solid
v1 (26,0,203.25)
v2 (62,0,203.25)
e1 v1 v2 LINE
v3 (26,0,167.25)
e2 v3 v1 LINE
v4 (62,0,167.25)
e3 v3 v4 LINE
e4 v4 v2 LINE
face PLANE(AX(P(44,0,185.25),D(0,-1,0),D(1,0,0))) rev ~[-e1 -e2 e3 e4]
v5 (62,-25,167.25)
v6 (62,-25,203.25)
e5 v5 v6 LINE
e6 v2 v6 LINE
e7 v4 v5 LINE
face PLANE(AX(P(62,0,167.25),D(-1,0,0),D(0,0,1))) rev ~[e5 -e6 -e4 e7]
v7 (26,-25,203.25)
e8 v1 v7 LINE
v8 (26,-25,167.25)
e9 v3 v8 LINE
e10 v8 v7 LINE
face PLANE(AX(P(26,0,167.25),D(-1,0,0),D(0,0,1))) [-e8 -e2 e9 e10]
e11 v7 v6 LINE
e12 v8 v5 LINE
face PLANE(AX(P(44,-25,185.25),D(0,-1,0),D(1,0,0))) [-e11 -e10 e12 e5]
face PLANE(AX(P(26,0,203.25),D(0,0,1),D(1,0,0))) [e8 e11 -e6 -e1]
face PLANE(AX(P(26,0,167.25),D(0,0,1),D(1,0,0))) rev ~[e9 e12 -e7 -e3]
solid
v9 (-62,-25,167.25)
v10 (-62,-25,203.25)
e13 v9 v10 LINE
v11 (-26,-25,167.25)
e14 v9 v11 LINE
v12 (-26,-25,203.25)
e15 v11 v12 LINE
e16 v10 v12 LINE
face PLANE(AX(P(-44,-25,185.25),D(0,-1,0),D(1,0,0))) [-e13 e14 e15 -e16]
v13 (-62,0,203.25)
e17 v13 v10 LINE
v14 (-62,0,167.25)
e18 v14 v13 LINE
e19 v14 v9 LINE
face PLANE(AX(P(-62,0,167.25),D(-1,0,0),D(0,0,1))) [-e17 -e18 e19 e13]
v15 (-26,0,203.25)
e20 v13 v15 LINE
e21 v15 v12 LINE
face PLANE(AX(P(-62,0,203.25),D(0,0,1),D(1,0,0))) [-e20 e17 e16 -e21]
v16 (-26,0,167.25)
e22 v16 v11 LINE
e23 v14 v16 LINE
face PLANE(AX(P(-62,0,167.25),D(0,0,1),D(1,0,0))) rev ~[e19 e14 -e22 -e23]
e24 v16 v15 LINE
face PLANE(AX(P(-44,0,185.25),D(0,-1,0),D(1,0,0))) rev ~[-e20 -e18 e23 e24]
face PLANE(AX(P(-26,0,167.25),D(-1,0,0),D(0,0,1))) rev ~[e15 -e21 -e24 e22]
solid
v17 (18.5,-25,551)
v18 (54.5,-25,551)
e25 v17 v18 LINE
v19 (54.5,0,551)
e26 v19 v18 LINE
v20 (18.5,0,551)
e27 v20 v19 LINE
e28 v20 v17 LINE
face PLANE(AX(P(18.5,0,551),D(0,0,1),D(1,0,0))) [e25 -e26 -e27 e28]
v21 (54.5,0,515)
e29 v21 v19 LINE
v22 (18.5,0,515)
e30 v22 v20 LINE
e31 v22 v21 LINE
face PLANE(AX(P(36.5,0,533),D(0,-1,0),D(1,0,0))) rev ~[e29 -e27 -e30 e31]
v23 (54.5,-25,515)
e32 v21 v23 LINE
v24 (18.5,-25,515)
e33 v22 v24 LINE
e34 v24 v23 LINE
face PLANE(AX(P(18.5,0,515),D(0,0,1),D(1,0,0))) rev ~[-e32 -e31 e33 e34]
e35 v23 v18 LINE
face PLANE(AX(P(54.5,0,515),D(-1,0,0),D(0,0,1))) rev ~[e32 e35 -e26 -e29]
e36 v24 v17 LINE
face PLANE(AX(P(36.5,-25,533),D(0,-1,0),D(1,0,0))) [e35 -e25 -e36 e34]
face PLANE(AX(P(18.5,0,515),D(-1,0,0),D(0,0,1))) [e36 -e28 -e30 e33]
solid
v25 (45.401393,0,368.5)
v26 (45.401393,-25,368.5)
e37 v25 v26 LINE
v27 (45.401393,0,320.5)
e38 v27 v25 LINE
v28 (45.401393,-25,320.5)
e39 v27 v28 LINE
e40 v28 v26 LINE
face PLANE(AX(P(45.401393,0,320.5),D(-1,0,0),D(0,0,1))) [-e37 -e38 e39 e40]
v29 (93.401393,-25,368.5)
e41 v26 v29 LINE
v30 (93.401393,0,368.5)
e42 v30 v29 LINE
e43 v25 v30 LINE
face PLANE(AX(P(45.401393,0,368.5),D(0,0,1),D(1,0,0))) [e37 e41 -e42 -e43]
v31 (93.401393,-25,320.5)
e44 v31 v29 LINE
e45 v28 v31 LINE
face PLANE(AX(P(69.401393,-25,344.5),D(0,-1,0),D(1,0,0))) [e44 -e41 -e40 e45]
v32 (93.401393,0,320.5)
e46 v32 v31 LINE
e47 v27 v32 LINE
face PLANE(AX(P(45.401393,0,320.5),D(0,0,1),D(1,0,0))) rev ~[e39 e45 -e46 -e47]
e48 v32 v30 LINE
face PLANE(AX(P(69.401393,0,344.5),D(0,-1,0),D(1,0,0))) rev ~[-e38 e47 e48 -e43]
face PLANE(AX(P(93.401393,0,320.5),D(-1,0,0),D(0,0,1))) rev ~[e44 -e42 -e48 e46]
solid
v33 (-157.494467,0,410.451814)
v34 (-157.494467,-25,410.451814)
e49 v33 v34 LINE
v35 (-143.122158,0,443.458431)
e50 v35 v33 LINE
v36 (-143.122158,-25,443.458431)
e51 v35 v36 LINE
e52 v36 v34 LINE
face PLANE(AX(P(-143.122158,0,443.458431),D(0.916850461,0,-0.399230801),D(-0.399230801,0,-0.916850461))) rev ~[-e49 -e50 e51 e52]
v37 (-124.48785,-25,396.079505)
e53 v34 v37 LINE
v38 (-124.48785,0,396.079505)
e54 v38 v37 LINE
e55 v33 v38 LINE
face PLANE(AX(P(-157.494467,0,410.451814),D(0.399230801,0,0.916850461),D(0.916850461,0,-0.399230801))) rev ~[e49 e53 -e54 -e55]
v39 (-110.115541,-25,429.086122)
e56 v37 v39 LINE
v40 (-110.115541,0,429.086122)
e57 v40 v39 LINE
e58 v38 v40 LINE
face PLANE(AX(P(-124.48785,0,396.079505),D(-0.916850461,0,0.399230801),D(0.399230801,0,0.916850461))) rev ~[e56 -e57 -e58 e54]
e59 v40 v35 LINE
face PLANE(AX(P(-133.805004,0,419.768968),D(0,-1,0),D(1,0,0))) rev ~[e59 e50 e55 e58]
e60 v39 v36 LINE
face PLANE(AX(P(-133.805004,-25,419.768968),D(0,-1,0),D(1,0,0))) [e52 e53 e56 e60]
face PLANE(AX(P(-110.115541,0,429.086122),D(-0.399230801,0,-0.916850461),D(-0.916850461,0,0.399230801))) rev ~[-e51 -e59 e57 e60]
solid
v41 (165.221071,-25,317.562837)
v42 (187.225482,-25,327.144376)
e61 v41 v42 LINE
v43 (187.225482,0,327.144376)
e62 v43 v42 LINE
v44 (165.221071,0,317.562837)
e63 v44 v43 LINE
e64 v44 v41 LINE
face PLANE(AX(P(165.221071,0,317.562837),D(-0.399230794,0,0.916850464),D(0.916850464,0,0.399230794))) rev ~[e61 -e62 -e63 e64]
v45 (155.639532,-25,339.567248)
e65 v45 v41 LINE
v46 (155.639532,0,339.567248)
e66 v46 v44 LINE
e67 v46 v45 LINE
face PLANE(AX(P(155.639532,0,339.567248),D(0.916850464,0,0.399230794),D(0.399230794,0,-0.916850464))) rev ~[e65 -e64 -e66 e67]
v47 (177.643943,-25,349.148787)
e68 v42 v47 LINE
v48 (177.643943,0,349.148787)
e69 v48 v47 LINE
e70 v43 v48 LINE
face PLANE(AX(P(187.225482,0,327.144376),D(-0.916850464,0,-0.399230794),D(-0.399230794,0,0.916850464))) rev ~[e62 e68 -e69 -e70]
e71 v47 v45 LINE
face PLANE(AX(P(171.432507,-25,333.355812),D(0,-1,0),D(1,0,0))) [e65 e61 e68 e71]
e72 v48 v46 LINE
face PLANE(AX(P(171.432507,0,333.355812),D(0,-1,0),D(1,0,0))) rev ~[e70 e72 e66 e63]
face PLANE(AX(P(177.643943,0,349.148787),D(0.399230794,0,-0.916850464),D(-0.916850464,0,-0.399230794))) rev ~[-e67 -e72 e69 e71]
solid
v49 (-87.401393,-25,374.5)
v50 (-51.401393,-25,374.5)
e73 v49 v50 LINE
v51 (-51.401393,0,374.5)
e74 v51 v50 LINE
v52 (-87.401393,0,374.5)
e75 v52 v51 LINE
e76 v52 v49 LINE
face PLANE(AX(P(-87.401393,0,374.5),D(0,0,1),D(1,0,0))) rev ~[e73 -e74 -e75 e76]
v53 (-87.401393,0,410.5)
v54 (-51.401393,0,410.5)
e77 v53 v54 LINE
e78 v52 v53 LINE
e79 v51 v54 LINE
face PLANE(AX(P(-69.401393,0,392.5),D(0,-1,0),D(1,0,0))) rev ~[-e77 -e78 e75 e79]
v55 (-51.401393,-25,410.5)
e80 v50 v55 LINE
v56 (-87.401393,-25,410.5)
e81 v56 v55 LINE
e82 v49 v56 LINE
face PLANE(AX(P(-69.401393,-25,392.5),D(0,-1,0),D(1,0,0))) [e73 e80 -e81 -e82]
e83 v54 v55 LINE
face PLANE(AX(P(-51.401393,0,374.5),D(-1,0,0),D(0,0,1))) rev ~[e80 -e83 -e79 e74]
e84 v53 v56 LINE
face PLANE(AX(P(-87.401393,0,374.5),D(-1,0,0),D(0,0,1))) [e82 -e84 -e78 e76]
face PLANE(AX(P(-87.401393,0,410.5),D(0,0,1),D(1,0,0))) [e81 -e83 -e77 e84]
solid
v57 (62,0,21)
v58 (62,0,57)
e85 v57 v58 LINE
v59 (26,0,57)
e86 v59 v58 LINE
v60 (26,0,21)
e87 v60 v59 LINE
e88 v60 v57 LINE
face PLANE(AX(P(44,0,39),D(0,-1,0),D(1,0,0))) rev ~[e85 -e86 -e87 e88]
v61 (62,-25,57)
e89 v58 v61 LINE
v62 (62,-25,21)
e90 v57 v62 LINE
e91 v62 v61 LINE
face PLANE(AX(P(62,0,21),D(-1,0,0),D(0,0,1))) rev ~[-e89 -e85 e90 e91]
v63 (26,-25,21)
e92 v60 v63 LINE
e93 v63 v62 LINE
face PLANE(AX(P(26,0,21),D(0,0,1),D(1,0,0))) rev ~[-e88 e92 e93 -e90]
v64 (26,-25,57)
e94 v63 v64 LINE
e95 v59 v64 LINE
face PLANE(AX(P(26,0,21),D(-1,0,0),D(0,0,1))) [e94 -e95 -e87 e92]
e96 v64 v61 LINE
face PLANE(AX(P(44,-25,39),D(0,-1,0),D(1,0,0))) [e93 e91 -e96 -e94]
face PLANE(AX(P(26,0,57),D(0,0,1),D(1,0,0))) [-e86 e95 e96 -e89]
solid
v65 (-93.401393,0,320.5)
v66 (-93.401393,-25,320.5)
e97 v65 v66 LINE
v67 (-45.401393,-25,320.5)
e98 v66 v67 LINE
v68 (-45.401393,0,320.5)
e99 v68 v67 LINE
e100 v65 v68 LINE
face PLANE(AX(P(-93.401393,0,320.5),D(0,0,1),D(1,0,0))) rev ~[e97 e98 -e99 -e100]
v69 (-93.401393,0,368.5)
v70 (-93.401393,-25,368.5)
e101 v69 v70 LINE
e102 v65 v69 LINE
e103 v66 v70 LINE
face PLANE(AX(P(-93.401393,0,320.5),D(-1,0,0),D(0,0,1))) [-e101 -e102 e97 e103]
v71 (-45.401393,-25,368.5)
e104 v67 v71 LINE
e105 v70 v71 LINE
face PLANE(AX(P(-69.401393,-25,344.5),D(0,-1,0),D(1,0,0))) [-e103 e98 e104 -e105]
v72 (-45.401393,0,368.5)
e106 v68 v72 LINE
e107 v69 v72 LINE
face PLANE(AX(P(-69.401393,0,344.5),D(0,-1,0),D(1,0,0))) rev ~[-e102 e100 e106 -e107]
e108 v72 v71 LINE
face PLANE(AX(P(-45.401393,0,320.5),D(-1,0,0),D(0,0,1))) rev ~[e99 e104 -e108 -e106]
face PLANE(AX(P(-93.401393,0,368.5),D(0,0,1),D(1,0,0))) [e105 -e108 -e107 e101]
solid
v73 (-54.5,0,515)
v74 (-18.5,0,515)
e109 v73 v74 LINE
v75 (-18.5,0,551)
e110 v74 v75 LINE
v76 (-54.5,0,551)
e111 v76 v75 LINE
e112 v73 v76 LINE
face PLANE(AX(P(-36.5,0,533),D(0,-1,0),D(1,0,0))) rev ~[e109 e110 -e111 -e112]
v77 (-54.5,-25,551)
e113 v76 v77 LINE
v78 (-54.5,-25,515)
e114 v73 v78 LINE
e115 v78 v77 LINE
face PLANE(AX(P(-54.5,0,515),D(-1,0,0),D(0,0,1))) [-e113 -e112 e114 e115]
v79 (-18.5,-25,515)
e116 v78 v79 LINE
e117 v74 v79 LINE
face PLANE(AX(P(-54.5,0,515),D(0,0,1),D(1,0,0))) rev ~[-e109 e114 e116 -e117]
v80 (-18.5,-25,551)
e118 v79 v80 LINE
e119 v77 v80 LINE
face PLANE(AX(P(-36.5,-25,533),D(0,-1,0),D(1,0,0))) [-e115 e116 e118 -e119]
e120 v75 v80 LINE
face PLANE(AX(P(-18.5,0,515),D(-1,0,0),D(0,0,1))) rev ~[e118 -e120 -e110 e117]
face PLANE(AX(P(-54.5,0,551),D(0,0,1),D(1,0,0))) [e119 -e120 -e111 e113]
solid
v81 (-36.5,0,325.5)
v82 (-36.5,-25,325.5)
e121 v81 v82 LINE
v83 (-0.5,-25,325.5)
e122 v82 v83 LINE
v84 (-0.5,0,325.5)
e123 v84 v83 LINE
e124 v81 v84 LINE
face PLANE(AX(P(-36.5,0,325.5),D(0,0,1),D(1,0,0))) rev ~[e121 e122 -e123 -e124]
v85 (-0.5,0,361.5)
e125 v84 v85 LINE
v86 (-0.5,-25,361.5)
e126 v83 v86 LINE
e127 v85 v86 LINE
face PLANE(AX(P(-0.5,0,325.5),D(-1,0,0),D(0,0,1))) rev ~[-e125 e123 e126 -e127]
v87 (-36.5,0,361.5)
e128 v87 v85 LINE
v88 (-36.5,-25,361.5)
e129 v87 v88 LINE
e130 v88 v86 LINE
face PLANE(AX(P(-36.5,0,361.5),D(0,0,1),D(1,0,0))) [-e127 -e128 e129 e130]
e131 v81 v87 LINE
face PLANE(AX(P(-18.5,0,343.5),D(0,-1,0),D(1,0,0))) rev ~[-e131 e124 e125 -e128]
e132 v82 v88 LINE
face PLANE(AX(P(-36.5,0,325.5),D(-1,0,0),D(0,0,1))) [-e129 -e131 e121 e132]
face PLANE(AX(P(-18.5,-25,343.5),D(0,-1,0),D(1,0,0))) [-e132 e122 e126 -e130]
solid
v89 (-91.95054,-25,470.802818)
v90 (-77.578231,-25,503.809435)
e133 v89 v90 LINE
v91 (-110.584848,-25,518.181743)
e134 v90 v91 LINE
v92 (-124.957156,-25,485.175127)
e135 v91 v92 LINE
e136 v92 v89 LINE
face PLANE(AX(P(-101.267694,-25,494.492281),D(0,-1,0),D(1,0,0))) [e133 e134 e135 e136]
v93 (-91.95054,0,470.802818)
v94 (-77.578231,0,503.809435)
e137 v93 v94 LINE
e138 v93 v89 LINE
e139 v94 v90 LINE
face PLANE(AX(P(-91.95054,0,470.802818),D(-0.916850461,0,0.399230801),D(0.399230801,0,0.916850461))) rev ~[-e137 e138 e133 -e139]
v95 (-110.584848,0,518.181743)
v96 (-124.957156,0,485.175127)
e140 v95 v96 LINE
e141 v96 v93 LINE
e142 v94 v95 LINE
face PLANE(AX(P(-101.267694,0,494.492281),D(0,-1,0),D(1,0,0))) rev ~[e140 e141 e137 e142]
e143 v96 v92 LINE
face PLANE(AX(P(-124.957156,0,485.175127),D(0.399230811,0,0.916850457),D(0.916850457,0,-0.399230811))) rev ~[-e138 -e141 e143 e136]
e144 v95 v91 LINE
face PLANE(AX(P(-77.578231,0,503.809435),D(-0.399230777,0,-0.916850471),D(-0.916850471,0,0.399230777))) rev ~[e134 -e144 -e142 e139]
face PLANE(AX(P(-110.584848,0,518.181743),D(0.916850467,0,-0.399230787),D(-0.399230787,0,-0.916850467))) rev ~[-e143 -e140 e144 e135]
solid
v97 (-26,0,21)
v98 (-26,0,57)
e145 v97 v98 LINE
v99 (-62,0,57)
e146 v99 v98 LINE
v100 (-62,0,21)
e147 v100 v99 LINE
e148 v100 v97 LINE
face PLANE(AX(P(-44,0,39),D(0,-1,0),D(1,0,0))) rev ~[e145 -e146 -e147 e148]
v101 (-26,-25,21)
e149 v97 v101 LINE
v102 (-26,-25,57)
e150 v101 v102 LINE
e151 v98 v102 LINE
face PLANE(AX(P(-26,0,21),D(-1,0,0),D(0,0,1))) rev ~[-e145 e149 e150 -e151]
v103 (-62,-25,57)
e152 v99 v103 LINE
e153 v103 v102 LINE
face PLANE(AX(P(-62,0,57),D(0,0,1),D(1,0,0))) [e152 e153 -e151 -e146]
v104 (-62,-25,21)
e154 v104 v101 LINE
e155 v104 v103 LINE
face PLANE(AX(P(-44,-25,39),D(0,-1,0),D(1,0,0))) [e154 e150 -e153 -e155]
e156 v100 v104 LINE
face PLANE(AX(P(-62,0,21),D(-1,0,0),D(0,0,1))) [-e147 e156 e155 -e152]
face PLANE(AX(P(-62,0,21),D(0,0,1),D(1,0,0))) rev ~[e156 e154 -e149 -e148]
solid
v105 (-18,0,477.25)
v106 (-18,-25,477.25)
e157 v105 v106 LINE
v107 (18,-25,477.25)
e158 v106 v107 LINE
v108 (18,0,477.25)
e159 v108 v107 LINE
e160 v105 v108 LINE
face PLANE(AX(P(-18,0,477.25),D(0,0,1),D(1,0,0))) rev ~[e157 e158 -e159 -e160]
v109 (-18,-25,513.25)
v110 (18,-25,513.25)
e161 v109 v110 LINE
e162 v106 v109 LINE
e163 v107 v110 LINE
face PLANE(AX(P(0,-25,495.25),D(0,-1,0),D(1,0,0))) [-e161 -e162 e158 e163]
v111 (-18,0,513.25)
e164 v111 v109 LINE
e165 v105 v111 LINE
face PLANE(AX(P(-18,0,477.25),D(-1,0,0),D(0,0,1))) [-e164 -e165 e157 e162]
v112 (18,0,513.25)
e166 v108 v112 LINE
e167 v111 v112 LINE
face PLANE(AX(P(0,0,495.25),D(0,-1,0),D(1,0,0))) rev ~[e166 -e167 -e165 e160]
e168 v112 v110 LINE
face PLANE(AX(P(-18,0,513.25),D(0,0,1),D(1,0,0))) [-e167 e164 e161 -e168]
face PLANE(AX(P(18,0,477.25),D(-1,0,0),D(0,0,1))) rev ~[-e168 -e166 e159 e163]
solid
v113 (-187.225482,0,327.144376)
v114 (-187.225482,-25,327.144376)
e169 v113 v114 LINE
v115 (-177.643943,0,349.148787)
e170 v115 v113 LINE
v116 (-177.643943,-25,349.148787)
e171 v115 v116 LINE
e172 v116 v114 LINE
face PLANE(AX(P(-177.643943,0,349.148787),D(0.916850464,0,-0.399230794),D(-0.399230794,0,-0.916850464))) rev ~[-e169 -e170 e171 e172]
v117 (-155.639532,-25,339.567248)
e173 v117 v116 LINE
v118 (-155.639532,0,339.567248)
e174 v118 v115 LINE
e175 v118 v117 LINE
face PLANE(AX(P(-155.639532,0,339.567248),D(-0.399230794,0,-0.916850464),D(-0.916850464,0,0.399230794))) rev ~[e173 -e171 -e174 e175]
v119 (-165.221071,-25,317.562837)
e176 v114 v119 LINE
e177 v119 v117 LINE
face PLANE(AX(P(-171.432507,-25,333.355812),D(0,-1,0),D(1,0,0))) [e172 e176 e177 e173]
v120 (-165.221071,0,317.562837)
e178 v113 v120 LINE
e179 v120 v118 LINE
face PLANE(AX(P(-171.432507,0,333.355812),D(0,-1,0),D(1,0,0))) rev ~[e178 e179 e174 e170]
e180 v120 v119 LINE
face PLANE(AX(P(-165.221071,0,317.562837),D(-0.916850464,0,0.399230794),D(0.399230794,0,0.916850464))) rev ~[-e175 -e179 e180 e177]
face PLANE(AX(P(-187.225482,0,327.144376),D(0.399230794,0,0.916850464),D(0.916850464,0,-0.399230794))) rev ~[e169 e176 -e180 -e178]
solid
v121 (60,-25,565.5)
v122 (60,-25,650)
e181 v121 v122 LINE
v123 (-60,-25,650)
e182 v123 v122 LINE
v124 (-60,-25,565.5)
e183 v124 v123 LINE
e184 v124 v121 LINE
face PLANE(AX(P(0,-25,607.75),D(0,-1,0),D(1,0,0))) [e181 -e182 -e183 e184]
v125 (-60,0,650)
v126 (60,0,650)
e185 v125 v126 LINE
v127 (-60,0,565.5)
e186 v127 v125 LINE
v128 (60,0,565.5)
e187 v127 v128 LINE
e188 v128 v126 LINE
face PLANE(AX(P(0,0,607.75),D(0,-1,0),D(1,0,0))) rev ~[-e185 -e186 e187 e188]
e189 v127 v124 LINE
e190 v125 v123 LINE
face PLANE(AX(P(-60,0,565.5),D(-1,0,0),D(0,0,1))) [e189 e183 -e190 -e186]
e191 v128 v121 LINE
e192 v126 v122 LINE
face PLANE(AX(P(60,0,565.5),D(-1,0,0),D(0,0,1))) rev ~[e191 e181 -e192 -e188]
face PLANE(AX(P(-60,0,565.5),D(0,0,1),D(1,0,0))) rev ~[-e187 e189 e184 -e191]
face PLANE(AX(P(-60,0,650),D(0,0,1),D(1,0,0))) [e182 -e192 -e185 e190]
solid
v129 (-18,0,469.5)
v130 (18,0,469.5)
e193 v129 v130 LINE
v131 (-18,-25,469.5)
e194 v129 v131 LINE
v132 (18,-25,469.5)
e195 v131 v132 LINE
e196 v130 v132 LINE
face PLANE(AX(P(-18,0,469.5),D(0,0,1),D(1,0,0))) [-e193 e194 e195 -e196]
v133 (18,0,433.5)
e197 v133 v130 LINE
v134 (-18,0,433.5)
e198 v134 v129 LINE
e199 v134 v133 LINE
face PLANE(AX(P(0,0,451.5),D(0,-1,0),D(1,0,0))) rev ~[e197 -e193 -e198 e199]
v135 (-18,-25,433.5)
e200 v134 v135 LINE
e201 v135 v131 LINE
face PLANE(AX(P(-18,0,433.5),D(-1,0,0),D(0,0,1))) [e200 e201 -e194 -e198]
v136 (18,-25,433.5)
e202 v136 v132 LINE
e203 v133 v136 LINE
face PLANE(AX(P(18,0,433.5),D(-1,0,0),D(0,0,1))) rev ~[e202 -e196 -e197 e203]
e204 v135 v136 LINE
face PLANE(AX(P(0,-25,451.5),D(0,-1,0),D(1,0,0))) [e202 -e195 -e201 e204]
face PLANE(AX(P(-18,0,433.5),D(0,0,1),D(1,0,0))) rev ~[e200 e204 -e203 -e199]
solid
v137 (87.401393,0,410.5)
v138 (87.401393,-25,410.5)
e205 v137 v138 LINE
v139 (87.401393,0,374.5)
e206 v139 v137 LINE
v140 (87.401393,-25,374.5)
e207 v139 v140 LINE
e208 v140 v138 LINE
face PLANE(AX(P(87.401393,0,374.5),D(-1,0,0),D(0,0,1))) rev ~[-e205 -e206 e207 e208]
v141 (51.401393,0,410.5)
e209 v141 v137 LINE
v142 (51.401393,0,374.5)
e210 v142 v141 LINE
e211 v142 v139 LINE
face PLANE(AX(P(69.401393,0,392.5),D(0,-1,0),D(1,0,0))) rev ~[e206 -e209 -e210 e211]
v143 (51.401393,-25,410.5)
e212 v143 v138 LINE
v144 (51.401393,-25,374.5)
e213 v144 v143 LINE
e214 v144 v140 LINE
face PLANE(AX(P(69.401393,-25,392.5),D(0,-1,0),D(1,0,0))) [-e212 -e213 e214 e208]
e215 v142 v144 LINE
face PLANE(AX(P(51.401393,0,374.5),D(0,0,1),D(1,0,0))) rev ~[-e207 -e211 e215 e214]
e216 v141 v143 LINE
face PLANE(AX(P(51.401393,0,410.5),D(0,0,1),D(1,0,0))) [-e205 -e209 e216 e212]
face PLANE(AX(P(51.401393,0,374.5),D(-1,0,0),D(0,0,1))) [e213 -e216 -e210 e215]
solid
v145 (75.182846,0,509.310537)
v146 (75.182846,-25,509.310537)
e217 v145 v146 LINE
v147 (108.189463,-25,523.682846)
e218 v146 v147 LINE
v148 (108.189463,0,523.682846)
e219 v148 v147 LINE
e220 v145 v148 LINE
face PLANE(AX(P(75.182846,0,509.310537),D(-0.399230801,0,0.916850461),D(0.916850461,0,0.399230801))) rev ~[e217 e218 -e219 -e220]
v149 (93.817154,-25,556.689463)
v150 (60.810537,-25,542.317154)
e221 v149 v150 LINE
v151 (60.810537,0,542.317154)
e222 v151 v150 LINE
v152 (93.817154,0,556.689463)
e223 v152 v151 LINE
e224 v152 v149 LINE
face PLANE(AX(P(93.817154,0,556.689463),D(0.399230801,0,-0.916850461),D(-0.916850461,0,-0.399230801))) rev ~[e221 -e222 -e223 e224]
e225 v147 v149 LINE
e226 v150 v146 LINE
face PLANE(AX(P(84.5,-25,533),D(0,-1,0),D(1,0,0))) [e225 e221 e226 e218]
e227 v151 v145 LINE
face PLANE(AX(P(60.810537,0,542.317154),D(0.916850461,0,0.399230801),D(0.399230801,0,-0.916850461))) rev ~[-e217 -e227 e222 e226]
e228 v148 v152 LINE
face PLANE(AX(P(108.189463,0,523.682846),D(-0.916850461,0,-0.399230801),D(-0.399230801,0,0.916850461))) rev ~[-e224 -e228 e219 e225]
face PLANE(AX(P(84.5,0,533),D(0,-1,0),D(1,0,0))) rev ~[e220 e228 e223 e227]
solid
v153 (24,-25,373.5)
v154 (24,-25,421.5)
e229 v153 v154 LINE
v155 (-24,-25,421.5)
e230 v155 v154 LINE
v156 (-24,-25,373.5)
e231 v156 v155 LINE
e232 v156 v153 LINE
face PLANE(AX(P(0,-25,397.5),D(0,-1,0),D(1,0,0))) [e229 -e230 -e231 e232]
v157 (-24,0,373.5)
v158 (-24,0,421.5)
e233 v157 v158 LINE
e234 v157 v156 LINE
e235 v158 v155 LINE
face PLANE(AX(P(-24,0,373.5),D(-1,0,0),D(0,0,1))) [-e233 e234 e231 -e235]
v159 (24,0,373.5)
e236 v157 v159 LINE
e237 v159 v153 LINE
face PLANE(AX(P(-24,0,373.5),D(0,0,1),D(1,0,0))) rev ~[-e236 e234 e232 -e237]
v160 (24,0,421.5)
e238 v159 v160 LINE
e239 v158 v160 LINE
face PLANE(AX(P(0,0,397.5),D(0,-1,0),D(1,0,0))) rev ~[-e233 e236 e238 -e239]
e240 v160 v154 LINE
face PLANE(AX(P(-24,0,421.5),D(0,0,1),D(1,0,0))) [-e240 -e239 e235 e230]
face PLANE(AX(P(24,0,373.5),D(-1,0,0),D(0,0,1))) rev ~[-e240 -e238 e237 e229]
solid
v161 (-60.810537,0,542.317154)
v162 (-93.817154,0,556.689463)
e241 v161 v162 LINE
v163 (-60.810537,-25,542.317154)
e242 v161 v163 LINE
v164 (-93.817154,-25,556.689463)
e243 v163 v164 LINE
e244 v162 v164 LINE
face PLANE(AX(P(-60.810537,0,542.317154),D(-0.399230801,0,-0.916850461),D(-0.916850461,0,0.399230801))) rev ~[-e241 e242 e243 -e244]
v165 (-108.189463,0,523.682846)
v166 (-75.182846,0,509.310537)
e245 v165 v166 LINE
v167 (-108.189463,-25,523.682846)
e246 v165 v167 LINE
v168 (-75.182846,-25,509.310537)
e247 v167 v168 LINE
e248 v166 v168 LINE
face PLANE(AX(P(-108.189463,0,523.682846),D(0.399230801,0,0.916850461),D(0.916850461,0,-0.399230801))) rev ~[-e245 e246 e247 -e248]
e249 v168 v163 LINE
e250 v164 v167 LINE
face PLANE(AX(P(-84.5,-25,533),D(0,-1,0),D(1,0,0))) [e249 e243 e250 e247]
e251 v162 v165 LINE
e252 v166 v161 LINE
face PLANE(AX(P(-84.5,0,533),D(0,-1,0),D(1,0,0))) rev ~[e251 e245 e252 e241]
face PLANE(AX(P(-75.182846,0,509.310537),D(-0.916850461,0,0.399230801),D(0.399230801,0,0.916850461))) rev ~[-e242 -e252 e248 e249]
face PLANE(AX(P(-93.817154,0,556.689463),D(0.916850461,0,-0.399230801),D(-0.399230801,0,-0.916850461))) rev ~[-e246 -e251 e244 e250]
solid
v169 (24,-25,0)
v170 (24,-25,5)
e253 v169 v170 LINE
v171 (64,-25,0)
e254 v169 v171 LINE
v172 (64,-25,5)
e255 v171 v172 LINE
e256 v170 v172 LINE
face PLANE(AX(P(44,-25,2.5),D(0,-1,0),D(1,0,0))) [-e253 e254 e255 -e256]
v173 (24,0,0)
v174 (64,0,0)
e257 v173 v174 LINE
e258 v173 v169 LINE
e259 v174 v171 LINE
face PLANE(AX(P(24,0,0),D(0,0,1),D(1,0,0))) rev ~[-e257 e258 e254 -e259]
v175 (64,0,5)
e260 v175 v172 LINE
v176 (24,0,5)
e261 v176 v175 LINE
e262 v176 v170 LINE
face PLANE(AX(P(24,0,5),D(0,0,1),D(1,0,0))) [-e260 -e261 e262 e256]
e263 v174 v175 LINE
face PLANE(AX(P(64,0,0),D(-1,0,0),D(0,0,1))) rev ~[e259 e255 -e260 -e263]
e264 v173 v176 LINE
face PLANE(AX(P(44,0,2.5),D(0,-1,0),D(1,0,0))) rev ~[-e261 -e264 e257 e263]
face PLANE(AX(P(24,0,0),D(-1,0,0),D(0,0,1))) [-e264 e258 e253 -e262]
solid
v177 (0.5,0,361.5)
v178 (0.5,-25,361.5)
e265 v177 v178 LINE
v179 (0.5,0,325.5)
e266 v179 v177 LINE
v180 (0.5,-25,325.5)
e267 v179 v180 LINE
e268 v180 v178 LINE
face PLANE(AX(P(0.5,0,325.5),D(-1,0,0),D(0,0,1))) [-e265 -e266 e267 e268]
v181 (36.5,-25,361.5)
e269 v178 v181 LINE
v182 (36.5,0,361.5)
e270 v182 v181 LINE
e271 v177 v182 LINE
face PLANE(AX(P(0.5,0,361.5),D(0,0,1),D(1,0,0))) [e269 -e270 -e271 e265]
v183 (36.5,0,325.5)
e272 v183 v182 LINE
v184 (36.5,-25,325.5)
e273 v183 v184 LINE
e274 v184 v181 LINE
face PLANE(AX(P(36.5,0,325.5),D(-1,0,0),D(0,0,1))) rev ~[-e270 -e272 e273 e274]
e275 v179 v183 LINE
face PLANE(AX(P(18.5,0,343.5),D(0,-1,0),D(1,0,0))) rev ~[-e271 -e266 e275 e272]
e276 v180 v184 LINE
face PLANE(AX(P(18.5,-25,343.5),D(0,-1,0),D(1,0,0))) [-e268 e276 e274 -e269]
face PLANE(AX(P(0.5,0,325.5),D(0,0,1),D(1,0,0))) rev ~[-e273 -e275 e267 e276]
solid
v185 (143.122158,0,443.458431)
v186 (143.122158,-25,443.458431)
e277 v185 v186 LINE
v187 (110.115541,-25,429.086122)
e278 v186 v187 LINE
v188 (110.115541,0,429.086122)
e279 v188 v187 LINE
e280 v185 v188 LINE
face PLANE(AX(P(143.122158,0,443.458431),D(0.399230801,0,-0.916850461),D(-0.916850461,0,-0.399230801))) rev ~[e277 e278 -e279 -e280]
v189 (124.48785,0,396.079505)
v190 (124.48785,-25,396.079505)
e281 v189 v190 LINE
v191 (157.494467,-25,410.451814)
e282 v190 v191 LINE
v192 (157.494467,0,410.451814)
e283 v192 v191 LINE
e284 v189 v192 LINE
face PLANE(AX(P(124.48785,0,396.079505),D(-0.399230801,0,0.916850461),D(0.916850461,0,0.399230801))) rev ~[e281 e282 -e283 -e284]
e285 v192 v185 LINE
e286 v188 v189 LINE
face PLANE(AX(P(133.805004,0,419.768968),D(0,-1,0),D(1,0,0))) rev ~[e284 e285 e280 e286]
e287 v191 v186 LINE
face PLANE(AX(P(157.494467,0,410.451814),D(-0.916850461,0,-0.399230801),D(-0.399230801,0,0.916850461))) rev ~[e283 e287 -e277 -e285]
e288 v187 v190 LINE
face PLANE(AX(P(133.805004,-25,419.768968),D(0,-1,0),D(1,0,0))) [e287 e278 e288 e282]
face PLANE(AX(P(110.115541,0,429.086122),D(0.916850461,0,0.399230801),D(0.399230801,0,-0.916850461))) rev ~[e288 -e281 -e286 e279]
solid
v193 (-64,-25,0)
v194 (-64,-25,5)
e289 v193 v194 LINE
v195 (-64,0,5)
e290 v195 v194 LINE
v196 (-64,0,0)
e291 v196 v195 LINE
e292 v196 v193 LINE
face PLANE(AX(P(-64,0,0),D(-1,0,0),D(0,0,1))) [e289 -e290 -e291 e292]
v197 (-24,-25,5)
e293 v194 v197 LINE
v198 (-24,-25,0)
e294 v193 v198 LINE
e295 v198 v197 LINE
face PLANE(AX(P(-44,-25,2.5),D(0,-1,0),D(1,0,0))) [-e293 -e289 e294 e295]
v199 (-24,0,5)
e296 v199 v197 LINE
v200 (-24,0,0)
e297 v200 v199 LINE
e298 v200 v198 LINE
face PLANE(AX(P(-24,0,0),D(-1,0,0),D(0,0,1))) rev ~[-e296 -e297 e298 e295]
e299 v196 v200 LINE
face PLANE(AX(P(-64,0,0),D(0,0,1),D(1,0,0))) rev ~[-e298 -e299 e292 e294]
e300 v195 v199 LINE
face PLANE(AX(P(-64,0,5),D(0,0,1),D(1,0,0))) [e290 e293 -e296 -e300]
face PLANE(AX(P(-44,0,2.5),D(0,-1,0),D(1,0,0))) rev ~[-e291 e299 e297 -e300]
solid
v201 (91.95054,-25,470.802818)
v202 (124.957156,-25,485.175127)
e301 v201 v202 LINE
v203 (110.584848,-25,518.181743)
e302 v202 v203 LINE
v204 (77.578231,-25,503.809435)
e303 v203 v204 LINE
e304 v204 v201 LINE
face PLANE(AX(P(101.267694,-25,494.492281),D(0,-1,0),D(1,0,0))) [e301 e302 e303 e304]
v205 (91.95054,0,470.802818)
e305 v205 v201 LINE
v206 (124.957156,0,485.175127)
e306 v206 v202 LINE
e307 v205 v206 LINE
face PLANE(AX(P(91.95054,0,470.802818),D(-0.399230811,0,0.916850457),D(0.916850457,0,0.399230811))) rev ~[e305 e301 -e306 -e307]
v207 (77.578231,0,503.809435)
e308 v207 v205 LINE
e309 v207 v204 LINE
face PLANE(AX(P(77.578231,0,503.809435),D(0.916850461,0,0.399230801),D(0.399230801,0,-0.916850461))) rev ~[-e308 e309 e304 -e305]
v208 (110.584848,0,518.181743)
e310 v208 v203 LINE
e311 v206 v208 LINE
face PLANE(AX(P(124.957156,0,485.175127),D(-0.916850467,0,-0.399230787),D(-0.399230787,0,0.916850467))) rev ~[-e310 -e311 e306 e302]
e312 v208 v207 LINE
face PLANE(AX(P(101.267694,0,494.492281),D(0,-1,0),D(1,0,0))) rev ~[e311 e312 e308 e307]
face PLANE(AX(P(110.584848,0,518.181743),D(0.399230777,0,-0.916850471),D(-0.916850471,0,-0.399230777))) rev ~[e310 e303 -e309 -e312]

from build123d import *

# Parameters (mm, degrees)
F1_W     = 36
F1_H     = 36
F1_W_2   = 48
F1_H_2   = 48
F1_W_3   = 120
F1_H_3   = 84.5
F1_W_4   = 40
F1_H_4   = 5
F2_DEPTH = 25


with BuildPart() as f2:
    # F1 (on Front) → F2 (new body)
    with BuildSketch(Plane.XZ):
        with Locations((44, 39)):
            Rectangle(F1_W, F1_H)
        with Locations((44, 185.25)):
            Rectangle(F1_W, F1_H)
        with Locations((69.401393, 344.5)):
            Rectangle(F1_W_2, F1_H_2)
        with Locations((69.401393, 392.5)):
            Rectangle(F1_W, F1_H)
        with Locations((18.5, 343.5)):
            Rectangle(F1_W, F1_H)
        with Locations((0, 397.5)):
            Rectangle(F1_W_2, F1_H_2)
        with Locations((0, 451.5)):
            Rectangle(F1_W, F1_H)
        with Locations((0, 495.25)):
            Rectangle(F1_W, F1_H)
        with Locations((-44, 39)):
            Rectangle(F1_W, F1_H)
        with Locations((-69.401393, 392.5)):
            Rectangle(F1_W, F1_H)
        with Locations((-69.401393, 344.5)):
            Rectangle(F1_W_2, F1_H_2)
        with Locations((-18.5, 343.5)):
            Rectangle(F1_W, F1_H)
        with Locations((-44, 185.25)):
            Rectangle(F1_W, F1_H)
        with Locations((36.5, 533)):
            Rectangle(F1_W, F1_H)
        Polygon((124.48785, 396.079505), (157.494467, 410.451814), (143.122158, 443.458431), (110.115541, 429.086122), align=None)
        Polygon((91.95054, 470.802818), (124.957156, 485.175127), (110.584848, 518.181743), (77.578231, 503.809435), align=None)
        Polygon((75.182846, 509.310537), (108.189463, 523.682846), (93.817154, 556.689463), (60.810537, 542.317154), align=None)
        Polygon((155.639532, 339.567248), (165.221071, 317.562837), (187.225482, 327.144376), (177.643943, 349.148787), align=None)
        Polygon((-110.584848, 518.181743), (-124.957156, 485.175127), (-91.95054, 470.802818), (-77.578231, 503.809435), align=None)
        Polygon((-165.221071, 317.562837), (-155.639532, 339.567248), (-177.643943, 349.148787), (-187.225482, 327.144376), align=None)
        Polygon((-93.817154, 556.689463), (-108.189463, 523.682846), (-75.182846, 509.310537), (-60.810537, 542.317154), align=None)
        with Locations((-36.5, 533)):
            Rectangle(F1_W, F1_H)
        Polygon((-143.122158, 443.458431), (-157.494467, 410.451814), (-124.48785, 396.079505), (-110.115541, 429.086122), align=None)
        with Locations((0, 607.75)):
            Rectangle(F1_W_3, F1_H_3)
        with Locations((44, 2.5)):
            Rectangle(F1_W_4, F1_H_4)
        with Locations((-44, 2.5)):
            Rectangle(F1_W_4, F1_H_4)
    extrude(amount=F2_DEPTH)


solid = f2.part
